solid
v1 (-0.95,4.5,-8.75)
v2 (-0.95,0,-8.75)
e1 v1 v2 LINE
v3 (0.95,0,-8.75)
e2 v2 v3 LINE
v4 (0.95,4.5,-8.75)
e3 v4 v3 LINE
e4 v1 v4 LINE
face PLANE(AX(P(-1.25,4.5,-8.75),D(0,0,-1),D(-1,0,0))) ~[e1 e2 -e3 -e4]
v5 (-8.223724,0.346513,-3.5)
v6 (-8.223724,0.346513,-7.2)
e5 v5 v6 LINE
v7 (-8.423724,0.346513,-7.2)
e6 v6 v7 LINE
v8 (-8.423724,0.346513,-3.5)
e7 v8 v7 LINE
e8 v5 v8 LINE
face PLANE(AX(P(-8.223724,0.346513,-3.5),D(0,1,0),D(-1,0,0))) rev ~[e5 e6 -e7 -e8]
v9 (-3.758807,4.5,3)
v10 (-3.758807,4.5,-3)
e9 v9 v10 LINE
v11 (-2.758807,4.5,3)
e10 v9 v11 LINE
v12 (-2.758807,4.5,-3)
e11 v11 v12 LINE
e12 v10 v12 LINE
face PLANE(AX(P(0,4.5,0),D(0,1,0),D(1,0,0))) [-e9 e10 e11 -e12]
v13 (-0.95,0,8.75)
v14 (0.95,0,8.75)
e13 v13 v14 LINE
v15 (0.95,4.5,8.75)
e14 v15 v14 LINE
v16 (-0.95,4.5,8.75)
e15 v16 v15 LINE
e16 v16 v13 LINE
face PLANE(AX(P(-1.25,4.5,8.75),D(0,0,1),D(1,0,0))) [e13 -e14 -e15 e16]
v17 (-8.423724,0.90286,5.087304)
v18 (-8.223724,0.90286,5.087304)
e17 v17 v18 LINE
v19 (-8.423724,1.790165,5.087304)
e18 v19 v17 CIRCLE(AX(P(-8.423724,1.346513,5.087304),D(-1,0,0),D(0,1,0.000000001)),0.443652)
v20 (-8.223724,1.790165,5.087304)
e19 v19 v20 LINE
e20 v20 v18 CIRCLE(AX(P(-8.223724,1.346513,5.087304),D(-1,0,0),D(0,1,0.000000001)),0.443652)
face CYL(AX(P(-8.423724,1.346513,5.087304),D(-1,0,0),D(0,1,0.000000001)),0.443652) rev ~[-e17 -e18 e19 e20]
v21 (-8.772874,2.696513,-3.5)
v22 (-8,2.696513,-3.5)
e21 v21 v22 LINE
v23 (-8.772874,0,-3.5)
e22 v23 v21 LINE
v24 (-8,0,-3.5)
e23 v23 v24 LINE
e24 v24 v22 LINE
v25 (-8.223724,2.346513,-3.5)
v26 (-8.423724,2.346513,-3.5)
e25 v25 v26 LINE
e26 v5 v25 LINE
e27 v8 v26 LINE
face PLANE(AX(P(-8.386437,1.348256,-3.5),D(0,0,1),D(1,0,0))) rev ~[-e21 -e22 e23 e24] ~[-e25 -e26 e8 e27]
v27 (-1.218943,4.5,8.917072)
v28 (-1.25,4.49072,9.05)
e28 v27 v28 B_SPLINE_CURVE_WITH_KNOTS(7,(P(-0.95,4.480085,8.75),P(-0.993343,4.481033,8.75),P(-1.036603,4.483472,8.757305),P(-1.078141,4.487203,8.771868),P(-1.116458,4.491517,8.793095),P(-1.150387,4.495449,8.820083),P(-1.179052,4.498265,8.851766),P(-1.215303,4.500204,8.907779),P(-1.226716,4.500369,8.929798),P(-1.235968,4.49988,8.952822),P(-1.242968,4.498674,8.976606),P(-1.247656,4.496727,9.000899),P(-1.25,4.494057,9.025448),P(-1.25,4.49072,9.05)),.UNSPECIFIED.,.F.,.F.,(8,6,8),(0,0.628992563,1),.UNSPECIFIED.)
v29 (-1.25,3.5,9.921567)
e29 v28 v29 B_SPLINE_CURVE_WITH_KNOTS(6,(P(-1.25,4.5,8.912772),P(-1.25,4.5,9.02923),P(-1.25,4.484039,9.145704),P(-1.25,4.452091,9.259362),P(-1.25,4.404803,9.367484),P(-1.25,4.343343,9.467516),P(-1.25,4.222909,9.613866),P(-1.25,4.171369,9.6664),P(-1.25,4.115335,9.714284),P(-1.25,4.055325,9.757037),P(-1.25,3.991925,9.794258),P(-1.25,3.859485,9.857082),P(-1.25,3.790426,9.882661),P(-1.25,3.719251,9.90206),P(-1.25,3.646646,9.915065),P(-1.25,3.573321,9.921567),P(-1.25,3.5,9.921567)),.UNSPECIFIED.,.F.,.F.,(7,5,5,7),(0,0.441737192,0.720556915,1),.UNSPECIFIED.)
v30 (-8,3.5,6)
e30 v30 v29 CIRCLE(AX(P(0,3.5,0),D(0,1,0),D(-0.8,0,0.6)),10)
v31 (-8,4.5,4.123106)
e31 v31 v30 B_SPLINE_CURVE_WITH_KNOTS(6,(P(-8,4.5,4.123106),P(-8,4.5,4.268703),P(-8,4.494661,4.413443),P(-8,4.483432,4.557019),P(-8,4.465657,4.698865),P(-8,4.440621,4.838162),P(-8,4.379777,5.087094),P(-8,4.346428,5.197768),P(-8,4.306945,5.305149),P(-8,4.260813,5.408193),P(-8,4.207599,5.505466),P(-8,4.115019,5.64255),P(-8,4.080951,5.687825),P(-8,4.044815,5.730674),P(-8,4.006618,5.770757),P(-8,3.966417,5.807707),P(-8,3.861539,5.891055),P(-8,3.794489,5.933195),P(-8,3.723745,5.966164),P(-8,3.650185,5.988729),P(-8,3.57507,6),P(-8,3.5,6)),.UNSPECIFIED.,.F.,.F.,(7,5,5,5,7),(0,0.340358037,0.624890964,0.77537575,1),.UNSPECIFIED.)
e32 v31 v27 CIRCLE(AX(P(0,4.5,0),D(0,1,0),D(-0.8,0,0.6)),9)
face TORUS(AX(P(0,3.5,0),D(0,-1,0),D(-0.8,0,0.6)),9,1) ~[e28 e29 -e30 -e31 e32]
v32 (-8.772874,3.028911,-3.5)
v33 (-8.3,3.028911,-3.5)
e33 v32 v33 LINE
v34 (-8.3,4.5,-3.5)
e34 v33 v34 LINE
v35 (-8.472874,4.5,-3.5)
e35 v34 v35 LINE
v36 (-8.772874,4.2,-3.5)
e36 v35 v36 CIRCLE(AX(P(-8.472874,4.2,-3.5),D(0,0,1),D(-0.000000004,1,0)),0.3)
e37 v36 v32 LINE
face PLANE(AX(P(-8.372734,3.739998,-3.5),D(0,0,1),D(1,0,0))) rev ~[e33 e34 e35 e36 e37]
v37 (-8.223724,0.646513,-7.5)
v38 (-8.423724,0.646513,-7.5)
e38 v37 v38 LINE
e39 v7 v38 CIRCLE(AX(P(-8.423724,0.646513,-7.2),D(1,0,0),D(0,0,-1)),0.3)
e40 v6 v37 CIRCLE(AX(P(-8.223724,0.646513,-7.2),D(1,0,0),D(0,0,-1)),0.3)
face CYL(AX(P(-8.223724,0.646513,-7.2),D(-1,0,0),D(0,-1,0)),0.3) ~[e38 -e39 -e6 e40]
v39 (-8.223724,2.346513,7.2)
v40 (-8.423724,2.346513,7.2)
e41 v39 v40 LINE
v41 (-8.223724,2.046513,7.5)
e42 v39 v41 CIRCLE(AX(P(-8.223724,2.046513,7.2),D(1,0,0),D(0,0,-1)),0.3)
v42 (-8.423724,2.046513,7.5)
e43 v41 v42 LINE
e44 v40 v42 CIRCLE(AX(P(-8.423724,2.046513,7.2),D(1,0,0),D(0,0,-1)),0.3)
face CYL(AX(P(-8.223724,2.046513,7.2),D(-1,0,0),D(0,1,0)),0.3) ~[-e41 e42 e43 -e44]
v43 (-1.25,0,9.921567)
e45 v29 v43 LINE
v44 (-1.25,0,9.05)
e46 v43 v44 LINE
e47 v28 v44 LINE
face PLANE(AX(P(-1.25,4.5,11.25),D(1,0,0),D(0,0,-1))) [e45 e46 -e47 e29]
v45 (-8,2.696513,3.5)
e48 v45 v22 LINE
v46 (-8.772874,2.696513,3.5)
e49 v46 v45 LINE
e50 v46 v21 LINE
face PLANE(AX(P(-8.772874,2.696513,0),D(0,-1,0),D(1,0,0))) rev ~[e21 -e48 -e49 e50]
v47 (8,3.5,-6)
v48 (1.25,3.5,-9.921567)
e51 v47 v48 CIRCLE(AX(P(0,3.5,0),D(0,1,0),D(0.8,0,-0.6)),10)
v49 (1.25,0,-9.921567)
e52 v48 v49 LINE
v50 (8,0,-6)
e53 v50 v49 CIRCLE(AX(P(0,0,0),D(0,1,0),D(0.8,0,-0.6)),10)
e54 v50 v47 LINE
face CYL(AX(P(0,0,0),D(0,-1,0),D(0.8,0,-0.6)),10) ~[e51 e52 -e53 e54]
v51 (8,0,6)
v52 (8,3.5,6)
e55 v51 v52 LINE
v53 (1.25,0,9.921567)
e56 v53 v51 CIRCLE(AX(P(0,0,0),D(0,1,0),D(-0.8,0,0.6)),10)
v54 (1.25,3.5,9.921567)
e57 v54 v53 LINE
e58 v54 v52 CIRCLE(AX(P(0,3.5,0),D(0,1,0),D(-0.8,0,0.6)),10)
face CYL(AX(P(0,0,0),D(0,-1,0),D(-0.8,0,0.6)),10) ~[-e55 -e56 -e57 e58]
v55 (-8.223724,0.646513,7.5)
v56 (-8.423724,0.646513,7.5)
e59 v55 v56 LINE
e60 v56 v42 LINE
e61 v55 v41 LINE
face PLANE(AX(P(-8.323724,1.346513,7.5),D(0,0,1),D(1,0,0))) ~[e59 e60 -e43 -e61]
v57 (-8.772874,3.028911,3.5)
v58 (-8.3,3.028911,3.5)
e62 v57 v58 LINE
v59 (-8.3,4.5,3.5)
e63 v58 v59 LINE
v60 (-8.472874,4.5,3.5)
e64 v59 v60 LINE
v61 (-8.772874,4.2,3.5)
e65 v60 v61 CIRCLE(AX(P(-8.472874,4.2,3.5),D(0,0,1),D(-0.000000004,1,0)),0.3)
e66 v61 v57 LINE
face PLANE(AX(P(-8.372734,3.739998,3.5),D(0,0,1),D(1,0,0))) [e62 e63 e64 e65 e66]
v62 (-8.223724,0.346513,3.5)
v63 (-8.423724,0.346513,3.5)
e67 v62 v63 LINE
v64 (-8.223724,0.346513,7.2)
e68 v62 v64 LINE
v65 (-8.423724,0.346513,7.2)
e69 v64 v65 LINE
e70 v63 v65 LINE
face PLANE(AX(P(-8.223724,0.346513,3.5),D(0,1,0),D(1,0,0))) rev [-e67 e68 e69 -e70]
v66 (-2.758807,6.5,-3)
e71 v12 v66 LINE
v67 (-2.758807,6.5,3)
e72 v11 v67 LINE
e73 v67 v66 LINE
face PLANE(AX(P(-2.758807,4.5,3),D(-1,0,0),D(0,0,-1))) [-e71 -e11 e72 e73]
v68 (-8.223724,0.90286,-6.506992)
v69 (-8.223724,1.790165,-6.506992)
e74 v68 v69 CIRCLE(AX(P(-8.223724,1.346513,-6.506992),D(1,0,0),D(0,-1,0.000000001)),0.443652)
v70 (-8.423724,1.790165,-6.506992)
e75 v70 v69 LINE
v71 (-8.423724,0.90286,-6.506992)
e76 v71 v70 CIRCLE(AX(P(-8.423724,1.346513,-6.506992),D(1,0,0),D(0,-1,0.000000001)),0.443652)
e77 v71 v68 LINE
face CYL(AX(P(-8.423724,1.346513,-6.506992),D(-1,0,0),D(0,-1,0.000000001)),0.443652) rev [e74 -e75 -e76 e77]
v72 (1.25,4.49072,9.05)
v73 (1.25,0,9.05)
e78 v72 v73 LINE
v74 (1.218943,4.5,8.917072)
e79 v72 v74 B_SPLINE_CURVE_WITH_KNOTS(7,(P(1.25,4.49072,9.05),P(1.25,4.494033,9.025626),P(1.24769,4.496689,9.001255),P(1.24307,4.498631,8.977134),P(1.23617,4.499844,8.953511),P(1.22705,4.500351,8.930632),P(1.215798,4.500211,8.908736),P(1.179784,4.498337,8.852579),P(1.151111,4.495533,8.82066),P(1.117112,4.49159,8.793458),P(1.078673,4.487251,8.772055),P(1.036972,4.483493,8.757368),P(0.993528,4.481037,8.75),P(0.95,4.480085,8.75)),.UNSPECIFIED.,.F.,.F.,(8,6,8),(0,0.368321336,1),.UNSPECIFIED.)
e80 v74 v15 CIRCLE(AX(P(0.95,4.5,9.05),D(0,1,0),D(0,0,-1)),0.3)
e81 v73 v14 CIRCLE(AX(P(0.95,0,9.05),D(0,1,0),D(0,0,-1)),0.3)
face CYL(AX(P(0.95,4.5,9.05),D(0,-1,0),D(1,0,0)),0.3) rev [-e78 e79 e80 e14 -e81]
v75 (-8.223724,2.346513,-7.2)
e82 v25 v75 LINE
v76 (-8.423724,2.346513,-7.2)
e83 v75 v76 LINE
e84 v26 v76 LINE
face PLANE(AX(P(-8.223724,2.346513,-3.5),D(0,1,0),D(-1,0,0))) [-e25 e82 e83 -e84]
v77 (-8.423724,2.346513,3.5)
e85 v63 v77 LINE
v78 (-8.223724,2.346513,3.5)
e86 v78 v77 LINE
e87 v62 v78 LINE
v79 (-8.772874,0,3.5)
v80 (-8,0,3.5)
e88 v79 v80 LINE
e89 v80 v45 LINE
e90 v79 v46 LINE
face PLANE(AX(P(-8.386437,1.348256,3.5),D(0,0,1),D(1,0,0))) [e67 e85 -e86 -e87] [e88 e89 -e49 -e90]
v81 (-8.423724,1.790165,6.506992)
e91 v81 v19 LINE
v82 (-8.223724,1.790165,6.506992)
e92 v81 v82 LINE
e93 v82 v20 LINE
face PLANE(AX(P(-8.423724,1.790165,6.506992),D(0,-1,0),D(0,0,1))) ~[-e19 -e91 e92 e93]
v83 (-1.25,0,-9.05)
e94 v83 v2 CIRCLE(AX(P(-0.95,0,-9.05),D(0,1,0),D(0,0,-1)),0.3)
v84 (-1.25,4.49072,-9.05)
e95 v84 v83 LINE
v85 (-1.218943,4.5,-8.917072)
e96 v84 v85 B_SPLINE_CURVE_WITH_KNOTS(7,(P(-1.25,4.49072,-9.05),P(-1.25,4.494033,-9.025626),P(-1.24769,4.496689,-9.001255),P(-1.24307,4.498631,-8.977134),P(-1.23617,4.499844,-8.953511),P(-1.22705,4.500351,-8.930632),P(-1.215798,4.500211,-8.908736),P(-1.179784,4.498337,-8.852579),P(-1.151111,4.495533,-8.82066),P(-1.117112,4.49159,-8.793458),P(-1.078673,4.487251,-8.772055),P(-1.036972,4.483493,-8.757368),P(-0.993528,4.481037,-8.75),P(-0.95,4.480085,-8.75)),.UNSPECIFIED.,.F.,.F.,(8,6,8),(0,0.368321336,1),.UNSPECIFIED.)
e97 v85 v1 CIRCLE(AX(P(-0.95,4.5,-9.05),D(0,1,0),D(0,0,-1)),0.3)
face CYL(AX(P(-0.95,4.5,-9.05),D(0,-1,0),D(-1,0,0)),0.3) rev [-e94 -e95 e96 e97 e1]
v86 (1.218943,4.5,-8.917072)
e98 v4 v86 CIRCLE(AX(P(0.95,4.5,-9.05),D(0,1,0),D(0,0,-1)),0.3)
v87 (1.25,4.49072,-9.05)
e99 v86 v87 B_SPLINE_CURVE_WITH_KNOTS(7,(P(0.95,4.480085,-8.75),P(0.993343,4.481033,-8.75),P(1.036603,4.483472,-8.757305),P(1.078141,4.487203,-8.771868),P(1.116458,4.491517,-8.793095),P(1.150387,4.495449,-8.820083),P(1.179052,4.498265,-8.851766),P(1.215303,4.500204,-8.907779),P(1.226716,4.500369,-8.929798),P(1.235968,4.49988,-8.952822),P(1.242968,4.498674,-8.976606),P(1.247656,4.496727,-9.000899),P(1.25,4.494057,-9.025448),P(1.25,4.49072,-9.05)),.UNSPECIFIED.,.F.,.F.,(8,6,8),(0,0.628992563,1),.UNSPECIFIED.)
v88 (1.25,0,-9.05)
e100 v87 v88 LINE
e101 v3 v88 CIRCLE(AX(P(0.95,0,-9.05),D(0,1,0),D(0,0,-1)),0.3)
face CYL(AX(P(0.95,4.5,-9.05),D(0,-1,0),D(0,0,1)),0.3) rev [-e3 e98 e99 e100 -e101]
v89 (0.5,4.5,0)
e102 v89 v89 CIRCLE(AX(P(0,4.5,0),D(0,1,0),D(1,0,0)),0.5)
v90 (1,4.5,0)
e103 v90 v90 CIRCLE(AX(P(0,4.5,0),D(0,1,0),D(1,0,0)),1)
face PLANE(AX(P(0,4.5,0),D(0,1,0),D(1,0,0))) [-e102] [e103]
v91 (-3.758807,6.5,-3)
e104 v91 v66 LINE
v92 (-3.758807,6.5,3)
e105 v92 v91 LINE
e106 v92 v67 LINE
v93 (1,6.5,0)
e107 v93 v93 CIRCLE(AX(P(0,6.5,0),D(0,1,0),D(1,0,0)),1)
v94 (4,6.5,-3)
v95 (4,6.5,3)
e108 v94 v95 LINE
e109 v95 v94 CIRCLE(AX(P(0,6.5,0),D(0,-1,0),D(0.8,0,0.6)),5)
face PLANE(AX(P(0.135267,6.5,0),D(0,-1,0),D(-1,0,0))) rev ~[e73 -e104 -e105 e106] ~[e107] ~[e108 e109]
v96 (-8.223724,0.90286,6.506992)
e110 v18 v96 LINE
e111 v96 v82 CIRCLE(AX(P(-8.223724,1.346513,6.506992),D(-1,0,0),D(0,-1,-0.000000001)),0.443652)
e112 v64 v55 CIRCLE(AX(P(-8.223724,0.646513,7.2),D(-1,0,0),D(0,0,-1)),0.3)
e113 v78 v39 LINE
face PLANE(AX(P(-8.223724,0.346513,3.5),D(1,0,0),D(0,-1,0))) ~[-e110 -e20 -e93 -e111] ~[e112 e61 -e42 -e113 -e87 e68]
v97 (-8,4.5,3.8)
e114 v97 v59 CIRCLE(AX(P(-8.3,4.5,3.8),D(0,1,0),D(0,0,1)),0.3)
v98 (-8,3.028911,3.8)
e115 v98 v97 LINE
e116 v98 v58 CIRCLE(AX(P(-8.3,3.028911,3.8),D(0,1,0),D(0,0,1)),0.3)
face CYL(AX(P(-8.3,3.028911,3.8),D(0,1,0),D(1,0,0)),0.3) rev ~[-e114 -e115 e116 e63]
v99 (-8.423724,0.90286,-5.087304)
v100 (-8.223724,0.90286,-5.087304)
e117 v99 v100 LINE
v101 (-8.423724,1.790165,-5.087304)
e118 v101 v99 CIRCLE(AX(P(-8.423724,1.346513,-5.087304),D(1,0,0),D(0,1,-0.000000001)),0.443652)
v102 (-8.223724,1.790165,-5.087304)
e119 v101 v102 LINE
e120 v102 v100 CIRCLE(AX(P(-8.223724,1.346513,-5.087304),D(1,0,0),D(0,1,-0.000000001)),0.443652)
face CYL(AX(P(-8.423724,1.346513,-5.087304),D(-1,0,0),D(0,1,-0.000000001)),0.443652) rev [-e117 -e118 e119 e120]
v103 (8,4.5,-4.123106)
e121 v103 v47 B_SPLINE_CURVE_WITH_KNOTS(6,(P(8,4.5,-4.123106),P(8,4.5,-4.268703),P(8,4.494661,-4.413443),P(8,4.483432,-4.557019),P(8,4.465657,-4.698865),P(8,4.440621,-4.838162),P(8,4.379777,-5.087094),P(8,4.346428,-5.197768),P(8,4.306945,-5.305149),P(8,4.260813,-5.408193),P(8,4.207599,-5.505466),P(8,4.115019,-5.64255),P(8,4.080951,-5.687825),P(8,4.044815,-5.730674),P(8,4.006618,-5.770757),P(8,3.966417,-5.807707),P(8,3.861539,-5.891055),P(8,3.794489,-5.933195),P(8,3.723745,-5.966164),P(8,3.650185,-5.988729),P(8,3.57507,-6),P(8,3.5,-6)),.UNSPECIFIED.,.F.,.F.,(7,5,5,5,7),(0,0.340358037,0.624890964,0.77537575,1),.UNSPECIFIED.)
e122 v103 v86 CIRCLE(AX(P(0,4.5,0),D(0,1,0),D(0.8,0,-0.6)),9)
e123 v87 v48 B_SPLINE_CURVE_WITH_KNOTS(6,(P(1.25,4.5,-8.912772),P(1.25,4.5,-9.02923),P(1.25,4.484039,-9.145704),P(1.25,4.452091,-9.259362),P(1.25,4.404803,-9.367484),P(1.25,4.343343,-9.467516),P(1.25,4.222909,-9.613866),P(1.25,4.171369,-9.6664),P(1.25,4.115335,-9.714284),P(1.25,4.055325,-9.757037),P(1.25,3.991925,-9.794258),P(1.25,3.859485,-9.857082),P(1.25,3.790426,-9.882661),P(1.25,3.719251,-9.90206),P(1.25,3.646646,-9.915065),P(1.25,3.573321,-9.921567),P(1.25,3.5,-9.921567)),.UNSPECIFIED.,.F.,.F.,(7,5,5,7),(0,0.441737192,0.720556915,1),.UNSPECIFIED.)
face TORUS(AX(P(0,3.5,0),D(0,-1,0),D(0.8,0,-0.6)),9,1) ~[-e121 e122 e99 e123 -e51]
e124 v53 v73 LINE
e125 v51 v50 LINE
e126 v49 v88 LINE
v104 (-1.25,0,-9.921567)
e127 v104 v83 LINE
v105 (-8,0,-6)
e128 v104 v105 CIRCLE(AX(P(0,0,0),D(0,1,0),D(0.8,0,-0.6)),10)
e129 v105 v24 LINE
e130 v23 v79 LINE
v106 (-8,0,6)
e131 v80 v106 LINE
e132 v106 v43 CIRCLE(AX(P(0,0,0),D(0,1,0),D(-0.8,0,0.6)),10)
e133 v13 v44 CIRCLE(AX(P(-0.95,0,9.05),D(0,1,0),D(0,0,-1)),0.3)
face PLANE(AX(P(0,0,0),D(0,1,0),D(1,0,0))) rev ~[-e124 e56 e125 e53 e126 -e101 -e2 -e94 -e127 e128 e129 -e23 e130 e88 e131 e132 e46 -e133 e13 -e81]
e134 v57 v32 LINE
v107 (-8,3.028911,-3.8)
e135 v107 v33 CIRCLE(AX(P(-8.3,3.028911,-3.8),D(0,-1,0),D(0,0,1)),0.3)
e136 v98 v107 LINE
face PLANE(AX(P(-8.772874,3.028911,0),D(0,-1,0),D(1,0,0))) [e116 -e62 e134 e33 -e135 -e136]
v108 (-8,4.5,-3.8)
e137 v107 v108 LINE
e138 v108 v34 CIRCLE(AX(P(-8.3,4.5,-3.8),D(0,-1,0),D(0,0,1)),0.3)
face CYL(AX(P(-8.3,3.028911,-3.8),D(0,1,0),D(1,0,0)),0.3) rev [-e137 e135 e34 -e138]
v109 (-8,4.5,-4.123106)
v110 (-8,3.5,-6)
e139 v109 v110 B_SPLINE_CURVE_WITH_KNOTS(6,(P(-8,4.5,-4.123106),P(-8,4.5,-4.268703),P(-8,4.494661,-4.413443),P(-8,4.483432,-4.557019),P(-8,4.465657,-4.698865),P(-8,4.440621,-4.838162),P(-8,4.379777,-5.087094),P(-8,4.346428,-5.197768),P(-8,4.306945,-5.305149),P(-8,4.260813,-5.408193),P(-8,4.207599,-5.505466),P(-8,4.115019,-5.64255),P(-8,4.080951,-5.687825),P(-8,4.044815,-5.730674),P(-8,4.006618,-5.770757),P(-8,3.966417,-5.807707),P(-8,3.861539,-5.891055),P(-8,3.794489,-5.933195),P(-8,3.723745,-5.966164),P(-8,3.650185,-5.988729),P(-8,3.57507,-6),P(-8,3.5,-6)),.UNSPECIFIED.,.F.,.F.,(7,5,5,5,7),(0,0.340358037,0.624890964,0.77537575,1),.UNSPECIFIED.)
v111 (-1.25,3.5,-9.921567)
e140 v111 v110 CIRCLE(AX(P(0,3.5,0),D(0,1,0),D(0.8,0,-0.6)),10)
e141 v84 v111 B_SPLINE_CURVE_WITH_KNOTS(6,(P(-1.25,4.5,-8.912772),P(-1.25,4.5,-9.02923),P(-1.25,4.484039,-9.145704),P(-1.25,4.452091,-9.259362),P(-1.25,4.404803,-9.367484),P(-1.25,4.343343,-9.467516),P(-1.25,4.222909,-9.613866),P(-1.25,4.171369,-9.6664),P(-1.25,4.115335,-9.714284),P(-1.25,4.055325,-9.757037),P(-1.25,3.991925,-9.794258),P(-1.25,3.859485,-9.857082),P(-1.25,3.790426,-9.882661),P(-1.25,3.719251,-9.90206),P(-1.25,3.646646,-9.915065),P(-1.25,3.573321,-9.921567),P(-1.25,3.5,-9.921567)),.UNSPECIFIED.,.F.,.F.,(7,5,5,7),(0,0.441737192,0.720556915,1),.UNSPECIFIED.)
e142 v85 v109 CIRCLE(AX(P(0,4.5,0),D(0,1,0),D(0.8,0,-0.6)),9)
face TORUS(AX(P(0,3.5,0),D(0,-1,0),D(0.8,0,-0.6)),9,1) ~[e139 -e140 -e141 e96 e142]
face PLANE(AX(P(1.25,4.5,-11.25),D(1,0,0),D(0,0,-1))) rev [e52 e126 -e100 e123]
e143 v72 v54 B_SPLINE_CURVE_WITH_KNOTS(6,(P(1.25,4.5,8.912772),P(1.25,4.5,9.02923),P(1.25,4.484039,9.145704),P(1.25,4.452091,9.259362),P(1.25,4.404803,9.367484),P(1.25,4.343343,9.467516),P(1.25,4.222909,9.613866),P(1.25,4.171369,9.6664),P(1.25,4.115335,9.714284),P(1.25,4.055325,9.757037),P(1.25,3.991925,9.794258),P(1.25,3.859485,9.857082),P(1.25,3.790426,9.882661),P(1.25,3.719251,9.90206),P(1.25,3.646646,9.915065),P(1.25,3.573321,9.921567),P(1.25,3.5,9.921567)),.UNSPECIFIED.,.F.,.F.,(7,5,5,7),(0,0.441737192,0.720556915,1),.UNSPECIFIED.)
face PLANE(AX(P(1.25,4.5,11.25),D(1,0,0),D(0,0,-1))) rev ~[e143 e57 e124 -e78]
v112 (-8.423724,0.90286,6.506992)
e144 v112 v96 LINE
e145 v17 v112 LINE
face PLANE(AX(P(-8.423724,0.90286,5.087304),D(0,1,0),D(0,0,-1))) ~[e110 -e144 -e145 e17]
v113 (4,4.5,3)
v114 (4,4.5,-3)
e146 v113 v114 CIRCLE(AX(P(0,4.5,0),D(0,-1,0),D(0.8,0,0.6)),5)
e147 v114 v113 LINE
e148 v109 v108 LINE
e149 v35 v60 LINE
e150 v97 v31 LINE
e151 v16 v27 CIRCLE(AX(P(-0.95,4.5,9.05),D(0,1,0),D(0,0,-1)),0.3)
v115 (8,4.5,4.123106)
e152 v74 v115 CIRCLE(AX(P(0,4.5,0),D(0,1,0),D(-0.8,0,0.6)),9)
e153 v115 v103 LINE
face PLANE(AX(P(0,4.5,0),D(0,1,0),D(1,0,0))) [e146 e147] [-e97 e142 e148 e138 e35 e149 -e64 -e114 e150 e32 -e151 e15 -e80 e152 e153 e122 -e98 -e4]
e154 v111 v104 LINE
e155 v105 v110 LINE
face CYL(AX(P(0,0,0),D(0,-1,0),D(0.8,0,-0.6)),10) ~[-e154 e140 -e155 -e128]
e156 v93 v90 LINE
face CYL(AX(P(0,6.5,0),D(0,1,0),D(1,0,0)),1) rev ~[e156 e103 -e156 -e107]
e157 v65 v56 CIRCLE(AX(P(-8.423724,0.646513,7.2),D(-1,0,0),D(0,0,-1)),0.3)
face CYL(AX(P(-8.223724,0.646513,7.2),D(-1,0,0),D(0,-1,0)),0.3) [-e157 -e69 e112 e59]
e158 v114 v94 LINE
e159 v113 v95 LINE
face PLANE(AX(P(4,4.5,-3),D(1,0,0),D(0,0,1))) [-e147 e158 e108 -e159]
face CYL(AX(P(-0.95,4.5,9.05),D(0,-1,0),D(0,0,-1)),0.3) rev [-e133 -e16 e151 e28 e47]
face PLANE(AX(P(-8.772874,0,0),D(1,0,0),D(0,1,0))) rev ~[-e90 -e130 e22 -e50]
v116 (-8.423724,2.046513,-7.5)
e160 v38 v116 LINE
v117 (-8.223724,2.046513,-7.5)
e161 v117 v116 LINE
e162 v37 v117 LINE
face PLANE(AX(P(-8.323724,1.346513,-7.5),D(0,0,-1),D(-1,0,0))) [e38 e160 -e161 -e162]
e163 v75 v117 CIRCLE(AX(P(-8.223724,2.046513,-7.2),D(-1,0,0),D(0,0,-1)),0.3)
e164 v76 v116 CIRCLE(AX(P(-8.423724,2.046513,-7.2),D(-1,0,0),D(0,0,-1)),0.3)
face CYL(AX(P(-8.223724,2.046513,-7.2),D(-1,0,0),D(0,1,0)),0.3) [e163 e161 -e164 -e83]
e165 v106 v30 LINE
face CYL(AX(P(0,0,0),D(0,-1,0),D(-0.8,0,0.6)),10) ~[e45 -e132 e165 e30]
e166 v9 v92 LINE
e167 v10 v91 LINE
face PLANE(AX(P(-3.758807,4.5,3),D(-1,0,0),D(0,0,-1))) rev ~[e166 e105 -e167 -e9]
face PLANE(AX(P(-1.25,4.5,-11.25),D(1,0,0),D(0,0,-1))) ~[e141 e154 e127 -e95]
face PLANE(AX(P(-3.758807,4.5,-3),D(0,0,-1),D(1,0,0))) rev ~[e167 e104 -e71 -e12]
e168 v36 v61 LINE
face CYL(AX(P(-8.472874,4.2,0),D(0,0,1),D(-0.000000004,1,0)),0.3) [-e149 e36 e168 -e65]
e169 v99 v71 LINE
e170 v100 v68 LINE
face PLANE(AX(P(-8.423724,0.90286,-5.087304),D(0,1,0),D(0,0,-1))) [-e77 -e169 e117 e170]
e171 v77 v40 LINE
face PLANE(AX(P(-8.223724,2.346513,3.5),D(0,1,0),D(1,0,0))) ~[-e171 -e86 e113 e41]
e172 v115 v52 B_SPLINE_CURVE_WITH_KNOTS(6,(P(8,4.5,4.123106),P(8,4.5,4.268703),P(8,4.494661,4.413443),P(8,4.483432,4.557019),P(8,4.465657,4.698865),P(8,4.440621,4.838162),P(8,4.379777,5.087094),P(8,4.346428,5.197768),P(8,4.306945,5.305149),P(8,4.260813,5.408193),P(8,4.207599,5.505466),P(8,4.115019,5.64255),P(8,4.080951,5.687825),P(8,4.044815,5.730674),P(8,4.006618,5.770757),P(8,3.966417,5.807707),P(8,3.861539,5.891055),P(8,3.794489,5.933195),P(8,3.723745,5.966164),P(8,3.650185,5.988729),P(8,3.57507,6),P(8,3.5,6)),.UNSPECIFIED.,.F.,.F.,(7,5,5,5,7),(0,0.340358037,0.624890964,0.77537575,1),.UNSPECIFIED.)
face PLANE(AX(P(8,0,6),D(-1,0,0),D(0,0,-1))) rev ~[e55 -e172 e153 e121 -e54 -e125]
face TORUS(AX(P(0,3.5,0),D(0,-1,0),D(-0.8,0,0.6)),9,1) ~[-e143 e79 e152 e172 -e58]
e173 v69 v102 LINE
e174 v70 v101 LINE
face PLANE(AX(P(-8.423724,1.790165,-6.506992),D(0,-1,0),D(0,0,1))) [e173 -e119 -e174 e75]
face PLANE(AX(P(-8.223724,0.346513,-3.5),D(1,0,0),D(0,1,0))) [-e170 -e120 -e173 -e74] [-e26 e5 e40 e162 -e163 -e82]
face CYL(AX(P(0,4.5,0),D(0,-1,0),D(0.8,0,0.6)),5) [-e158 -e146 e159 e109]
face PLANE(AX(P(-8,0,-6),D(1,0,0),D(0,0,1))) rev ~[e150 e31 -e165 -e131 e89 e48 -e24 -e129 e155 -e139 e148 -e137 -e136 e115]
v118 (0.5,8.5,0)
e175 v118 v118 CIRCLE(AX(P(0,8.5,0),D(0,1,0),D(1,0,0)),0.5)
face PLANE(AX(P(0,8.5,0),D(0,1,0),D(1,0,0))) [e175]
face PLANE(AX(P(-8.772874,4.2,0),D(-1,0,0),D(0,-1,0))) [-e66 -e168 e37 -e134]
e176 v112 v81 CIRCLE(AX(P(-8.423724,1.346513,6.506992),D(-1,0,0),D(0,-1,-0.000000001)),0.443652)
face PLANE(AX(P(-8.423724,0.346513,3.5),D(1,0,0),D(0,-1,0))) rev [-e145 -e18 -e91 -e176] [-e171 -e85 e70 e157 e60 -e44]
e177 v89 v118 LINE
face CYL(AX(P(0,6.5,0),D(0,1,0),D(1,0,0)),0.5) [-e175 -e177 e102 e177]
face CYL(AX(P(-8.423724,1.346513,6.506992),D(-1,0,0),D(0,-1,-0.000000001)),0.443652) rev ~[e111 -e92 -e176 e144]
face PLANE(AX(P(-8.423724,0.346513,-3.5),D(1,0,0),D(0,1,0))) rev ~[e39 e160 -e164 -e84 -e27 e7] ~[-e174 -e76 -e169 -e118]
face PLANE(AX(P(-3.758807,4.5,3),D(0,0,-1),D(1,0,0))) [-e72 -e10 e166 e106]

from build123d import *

# Parameters (mm, degrees)
BOSS_EXTRUDE1_DEPTH  = 4.5
SKETCH2_W            = 1
SKETCH2_H            = 6
BOSS_EXTRUDE2_DEPTH  = 2
SKETCH3_R            = 1
SKETCH3_R_2          = 0.5
CUT_EXTRUDE1_DEPTH   = 2
SKETCH3_2_R          = 0.5
BOSS_EXTRUDE3_DEPTH  = 2
FILLET1_R            = 1
SKETCH4_W            = 2.5
SKETCH4_H            = 2.5
CUT_EXTRUDE2_DEPTH   = 5.5000001
FILLET2_R            = 0.3
BOSS_EXTRUDE4_DEPTH  = 3.5
FILLET3_R            = 0.3
SKETCH7_W            = 0.772874032
SKETCH7_H            = 2.696512764
BOSS_EXTRUDE5_DEPTH  = 3.5
SKETCH8_W            = 0.2
SKETCH8_H            = 2
BOSS_EXTRUDE6_DEPTH  = 4
FILLET4_R            = 0.3
CUT_EXTRUDE3_DEPTH   = 0.2
FILLET4_OF_MIRROR2_R = 0.3


with BuildPart() as part:
    # Sketch1 → Boss-Extrude1 (new body)
    with BuildSketch(Plane(origin=(0, 0, 0), x_dir=(1, 0, 0), z_dir=(0, 1, 0))):
        with BuildLine():
            Line((8, -6), (8, 6))
            ThreePointArc((8, 6), (0, 10), (-8, 6))
            Line((-8, 6), (-8, -6))
            ThreePointArc((-8, -6), (0, -10), (8, -6))
        make_face()
    extrude(amount=BOSS_EXTRUDE1_DEPTH)

    # Sketch2 → Boss-Extrude2 (add)
    with BuildSketch(Plane(origin=(0, 4.5, 0), x_dir=(1, 0, 0), z_dir=(0, 1, 0))):
        with BuildLine():
            Line((4, 3), (4, -3))
            ThreePointArc((4, -3), (-5, 0), (4, 3))
        make_face()
        with Locations((-3.258806918, 0)):
            Rectangle(SKETCH2_W, SKETCH2_H, mode=Mode.SUBTRACT)
    extrude(amount=BOSS_EXTRUDE2_DEPTH)

    # Sketch3 → Cut-Extrude1 (cut)
    with BuildSketch(Plane(origin=(0, 6.5, 0), x_dir=(1, 0, 0), z_dir=(0, 1, 0))):
        Circle(SKETCH3_R)
        Circle(SKETCH3_R_2, mode=Mode.SUBTRACT)
    extrude(amount=-CUT_EXTRUDE1_DEPTH, mode=Mode.SUBTRACT)

    # Sketch3<2> → Boss-Extrude3 (add)
    with BuildSketch(Plane(origin=(0, 6.5, 0), x_dir=(1, 0, 0), z_dir=(0, 1, 0))):
        Circle(SKETCH3_2_R)
    extrude(amount=BOSS_EXTRUDE3_DEPTH)

    # Fillet1
    fillet1_edges = [part.edges().sort_by_distance(p)[0] for p in [
        (0, 4.5, 10),
        (0, 4.5, -10),
    ]]
    fillet(fillet1_edges, radius=FILLET1_R)

    # Sketch4 → Cut-Extrude2 (cut, through all)
    with BuildSketch(Plane(origin=(0, 4.5, 0), x_dir=(1, 0, 0), z_dir=(0, 1, 0))):
        with Locations((0, -10)):
            Rectangle(SKETCH4_W, SKETCH4_H)
    cut_extrude2 = extrude(amount=-CUT_EXTRUDE2_DEPTH, mode=Mode.SUBTRACT)

    # Mirror1: Cut-Extrude2 across plane
    add(cut_extrude2.mirror(Plane.XY), mode=Mode.SUBTRACT)

    # Fillet2
    fillet2_edges = [part.edges().sort_by_distance(p)[0] for p in [
        (-1.25, 2.25, -8.75),
        (1.25, 2.25, -8.75),
        (1.25, 2.25, 8.75),
        (-1.25, 2.25, 8.75),
    ]]
    fillet(fillet2_edges, radius=FILLET2_R)

    # Sketch6 → Boss-Extrude4 (add, symmetric)
    with BuildSketch(Plane.XY):
        with BuildLine():
            Line((-8, 4.5), (-8.472874032, 4.5))
            ThreePointArc((-8.472874032, 4.5), (-8.685006066, 4.412132034), (-8.772874032, 4.2))
            Line((-8.772874032, 4.2), (-8.772874032, 3.028910777))
            Line((-8.772874032, 3.028910777), (-8, 3.028910777))
            Line((-8, 3.028910777), (-8, 4.5))
        make_face()
    extrude(amount=BOSS_EXTRUDE4_DEPTH, both=True)

    # Fillet3
    fillet3_edges = [part.edges().sort_by_distance(p)[0] for p in [
        (-8, 3.764455388, -3.5),
        (-8, 3.764455388, 3.5),
    ]]
    fillet(fillet3_edges, radius=FILLET3_R)

    # Sketch7 → Boss-Extrude5 (add, symmetric)
    with BuildSketch(Plane.XY):
        with Locations((-8.386437016, 1.348256382)):
            Rectangle(SKETCH7_W, SKETCH7_H)
    extrude(amount=BOSS_EXTRUDE5_DEPTH, both=True)

    # Sketch8 → Boss-Extrude6 (add)
    with BuildSketch(Plane(origin=(0, 0, -3.5), x_dir=(-1, 0, 0), z_dir=(0, 0, -1))):
        with Locations((8.323724086, 1.346512764)):
            Rectangle(SKETCH8_W, SKETCH8_H)
    boss_extrude6 = extrude(amount=BOSS_EXTRUDE6_DEPTH)

    # Fillet4
    fillet4_edges = [part.edges().sort_by_distance(p)[0] for p in [
        (-8.323724086, 0.346512764, -7.5),
        (-8.323724086, 2.346512764, -7.5),
    ]]
    fillet(fillet4_edges, radius=FILLET4_R)

    # Sketch9 → Cut-Extrude3 (cut)
    with BuildSketch(Plane.ZY.offset(8.423724086)):
        with BuildLine():
            Line((-6.506992038, 1.790165147), (-5.08730441, 1.790165147))
            ThreePointArc((-5.08730441, 1.790165147), (-4.643652026, 1.346512764), (-5.08730441, 0.90286038))
            Line((-5.08730441, 0.90286038), (-6.506992038, 0.90286038))
            ThreePointArc((-6.506992038, 0.90286038), (-6.950644422, 1.346512764), (-6.506992038, 1.790165147))
        make_face()
    cut_extrude3 = extrude(amount=-CUT_EXTRUDE3_DEPTH, mode=Mode.SUBTRACT)

    # Mirror2: Boss-Extrude6, Cut-Extrude3 across plane
    add(boss_extrude6.mirror(Plane.XY))
    add(cut_extrude3.mirror(Plane.XY), mode=Mode.SUBTRACT)

    # Fillet4 of Mirror2
    fillet4_of_mirror2_edges = [part.edges().sort_by_distance(p)[0] for p in [
        (-8.323724086, 0.346512764, 7.5),
        (-8.323724086, 2.346512764, 7.5),
    ]]
    fillet(fillet4_of_mirror2_edges, radius=FILLET4_OF_MIRROR2_R)


solid = part.part
